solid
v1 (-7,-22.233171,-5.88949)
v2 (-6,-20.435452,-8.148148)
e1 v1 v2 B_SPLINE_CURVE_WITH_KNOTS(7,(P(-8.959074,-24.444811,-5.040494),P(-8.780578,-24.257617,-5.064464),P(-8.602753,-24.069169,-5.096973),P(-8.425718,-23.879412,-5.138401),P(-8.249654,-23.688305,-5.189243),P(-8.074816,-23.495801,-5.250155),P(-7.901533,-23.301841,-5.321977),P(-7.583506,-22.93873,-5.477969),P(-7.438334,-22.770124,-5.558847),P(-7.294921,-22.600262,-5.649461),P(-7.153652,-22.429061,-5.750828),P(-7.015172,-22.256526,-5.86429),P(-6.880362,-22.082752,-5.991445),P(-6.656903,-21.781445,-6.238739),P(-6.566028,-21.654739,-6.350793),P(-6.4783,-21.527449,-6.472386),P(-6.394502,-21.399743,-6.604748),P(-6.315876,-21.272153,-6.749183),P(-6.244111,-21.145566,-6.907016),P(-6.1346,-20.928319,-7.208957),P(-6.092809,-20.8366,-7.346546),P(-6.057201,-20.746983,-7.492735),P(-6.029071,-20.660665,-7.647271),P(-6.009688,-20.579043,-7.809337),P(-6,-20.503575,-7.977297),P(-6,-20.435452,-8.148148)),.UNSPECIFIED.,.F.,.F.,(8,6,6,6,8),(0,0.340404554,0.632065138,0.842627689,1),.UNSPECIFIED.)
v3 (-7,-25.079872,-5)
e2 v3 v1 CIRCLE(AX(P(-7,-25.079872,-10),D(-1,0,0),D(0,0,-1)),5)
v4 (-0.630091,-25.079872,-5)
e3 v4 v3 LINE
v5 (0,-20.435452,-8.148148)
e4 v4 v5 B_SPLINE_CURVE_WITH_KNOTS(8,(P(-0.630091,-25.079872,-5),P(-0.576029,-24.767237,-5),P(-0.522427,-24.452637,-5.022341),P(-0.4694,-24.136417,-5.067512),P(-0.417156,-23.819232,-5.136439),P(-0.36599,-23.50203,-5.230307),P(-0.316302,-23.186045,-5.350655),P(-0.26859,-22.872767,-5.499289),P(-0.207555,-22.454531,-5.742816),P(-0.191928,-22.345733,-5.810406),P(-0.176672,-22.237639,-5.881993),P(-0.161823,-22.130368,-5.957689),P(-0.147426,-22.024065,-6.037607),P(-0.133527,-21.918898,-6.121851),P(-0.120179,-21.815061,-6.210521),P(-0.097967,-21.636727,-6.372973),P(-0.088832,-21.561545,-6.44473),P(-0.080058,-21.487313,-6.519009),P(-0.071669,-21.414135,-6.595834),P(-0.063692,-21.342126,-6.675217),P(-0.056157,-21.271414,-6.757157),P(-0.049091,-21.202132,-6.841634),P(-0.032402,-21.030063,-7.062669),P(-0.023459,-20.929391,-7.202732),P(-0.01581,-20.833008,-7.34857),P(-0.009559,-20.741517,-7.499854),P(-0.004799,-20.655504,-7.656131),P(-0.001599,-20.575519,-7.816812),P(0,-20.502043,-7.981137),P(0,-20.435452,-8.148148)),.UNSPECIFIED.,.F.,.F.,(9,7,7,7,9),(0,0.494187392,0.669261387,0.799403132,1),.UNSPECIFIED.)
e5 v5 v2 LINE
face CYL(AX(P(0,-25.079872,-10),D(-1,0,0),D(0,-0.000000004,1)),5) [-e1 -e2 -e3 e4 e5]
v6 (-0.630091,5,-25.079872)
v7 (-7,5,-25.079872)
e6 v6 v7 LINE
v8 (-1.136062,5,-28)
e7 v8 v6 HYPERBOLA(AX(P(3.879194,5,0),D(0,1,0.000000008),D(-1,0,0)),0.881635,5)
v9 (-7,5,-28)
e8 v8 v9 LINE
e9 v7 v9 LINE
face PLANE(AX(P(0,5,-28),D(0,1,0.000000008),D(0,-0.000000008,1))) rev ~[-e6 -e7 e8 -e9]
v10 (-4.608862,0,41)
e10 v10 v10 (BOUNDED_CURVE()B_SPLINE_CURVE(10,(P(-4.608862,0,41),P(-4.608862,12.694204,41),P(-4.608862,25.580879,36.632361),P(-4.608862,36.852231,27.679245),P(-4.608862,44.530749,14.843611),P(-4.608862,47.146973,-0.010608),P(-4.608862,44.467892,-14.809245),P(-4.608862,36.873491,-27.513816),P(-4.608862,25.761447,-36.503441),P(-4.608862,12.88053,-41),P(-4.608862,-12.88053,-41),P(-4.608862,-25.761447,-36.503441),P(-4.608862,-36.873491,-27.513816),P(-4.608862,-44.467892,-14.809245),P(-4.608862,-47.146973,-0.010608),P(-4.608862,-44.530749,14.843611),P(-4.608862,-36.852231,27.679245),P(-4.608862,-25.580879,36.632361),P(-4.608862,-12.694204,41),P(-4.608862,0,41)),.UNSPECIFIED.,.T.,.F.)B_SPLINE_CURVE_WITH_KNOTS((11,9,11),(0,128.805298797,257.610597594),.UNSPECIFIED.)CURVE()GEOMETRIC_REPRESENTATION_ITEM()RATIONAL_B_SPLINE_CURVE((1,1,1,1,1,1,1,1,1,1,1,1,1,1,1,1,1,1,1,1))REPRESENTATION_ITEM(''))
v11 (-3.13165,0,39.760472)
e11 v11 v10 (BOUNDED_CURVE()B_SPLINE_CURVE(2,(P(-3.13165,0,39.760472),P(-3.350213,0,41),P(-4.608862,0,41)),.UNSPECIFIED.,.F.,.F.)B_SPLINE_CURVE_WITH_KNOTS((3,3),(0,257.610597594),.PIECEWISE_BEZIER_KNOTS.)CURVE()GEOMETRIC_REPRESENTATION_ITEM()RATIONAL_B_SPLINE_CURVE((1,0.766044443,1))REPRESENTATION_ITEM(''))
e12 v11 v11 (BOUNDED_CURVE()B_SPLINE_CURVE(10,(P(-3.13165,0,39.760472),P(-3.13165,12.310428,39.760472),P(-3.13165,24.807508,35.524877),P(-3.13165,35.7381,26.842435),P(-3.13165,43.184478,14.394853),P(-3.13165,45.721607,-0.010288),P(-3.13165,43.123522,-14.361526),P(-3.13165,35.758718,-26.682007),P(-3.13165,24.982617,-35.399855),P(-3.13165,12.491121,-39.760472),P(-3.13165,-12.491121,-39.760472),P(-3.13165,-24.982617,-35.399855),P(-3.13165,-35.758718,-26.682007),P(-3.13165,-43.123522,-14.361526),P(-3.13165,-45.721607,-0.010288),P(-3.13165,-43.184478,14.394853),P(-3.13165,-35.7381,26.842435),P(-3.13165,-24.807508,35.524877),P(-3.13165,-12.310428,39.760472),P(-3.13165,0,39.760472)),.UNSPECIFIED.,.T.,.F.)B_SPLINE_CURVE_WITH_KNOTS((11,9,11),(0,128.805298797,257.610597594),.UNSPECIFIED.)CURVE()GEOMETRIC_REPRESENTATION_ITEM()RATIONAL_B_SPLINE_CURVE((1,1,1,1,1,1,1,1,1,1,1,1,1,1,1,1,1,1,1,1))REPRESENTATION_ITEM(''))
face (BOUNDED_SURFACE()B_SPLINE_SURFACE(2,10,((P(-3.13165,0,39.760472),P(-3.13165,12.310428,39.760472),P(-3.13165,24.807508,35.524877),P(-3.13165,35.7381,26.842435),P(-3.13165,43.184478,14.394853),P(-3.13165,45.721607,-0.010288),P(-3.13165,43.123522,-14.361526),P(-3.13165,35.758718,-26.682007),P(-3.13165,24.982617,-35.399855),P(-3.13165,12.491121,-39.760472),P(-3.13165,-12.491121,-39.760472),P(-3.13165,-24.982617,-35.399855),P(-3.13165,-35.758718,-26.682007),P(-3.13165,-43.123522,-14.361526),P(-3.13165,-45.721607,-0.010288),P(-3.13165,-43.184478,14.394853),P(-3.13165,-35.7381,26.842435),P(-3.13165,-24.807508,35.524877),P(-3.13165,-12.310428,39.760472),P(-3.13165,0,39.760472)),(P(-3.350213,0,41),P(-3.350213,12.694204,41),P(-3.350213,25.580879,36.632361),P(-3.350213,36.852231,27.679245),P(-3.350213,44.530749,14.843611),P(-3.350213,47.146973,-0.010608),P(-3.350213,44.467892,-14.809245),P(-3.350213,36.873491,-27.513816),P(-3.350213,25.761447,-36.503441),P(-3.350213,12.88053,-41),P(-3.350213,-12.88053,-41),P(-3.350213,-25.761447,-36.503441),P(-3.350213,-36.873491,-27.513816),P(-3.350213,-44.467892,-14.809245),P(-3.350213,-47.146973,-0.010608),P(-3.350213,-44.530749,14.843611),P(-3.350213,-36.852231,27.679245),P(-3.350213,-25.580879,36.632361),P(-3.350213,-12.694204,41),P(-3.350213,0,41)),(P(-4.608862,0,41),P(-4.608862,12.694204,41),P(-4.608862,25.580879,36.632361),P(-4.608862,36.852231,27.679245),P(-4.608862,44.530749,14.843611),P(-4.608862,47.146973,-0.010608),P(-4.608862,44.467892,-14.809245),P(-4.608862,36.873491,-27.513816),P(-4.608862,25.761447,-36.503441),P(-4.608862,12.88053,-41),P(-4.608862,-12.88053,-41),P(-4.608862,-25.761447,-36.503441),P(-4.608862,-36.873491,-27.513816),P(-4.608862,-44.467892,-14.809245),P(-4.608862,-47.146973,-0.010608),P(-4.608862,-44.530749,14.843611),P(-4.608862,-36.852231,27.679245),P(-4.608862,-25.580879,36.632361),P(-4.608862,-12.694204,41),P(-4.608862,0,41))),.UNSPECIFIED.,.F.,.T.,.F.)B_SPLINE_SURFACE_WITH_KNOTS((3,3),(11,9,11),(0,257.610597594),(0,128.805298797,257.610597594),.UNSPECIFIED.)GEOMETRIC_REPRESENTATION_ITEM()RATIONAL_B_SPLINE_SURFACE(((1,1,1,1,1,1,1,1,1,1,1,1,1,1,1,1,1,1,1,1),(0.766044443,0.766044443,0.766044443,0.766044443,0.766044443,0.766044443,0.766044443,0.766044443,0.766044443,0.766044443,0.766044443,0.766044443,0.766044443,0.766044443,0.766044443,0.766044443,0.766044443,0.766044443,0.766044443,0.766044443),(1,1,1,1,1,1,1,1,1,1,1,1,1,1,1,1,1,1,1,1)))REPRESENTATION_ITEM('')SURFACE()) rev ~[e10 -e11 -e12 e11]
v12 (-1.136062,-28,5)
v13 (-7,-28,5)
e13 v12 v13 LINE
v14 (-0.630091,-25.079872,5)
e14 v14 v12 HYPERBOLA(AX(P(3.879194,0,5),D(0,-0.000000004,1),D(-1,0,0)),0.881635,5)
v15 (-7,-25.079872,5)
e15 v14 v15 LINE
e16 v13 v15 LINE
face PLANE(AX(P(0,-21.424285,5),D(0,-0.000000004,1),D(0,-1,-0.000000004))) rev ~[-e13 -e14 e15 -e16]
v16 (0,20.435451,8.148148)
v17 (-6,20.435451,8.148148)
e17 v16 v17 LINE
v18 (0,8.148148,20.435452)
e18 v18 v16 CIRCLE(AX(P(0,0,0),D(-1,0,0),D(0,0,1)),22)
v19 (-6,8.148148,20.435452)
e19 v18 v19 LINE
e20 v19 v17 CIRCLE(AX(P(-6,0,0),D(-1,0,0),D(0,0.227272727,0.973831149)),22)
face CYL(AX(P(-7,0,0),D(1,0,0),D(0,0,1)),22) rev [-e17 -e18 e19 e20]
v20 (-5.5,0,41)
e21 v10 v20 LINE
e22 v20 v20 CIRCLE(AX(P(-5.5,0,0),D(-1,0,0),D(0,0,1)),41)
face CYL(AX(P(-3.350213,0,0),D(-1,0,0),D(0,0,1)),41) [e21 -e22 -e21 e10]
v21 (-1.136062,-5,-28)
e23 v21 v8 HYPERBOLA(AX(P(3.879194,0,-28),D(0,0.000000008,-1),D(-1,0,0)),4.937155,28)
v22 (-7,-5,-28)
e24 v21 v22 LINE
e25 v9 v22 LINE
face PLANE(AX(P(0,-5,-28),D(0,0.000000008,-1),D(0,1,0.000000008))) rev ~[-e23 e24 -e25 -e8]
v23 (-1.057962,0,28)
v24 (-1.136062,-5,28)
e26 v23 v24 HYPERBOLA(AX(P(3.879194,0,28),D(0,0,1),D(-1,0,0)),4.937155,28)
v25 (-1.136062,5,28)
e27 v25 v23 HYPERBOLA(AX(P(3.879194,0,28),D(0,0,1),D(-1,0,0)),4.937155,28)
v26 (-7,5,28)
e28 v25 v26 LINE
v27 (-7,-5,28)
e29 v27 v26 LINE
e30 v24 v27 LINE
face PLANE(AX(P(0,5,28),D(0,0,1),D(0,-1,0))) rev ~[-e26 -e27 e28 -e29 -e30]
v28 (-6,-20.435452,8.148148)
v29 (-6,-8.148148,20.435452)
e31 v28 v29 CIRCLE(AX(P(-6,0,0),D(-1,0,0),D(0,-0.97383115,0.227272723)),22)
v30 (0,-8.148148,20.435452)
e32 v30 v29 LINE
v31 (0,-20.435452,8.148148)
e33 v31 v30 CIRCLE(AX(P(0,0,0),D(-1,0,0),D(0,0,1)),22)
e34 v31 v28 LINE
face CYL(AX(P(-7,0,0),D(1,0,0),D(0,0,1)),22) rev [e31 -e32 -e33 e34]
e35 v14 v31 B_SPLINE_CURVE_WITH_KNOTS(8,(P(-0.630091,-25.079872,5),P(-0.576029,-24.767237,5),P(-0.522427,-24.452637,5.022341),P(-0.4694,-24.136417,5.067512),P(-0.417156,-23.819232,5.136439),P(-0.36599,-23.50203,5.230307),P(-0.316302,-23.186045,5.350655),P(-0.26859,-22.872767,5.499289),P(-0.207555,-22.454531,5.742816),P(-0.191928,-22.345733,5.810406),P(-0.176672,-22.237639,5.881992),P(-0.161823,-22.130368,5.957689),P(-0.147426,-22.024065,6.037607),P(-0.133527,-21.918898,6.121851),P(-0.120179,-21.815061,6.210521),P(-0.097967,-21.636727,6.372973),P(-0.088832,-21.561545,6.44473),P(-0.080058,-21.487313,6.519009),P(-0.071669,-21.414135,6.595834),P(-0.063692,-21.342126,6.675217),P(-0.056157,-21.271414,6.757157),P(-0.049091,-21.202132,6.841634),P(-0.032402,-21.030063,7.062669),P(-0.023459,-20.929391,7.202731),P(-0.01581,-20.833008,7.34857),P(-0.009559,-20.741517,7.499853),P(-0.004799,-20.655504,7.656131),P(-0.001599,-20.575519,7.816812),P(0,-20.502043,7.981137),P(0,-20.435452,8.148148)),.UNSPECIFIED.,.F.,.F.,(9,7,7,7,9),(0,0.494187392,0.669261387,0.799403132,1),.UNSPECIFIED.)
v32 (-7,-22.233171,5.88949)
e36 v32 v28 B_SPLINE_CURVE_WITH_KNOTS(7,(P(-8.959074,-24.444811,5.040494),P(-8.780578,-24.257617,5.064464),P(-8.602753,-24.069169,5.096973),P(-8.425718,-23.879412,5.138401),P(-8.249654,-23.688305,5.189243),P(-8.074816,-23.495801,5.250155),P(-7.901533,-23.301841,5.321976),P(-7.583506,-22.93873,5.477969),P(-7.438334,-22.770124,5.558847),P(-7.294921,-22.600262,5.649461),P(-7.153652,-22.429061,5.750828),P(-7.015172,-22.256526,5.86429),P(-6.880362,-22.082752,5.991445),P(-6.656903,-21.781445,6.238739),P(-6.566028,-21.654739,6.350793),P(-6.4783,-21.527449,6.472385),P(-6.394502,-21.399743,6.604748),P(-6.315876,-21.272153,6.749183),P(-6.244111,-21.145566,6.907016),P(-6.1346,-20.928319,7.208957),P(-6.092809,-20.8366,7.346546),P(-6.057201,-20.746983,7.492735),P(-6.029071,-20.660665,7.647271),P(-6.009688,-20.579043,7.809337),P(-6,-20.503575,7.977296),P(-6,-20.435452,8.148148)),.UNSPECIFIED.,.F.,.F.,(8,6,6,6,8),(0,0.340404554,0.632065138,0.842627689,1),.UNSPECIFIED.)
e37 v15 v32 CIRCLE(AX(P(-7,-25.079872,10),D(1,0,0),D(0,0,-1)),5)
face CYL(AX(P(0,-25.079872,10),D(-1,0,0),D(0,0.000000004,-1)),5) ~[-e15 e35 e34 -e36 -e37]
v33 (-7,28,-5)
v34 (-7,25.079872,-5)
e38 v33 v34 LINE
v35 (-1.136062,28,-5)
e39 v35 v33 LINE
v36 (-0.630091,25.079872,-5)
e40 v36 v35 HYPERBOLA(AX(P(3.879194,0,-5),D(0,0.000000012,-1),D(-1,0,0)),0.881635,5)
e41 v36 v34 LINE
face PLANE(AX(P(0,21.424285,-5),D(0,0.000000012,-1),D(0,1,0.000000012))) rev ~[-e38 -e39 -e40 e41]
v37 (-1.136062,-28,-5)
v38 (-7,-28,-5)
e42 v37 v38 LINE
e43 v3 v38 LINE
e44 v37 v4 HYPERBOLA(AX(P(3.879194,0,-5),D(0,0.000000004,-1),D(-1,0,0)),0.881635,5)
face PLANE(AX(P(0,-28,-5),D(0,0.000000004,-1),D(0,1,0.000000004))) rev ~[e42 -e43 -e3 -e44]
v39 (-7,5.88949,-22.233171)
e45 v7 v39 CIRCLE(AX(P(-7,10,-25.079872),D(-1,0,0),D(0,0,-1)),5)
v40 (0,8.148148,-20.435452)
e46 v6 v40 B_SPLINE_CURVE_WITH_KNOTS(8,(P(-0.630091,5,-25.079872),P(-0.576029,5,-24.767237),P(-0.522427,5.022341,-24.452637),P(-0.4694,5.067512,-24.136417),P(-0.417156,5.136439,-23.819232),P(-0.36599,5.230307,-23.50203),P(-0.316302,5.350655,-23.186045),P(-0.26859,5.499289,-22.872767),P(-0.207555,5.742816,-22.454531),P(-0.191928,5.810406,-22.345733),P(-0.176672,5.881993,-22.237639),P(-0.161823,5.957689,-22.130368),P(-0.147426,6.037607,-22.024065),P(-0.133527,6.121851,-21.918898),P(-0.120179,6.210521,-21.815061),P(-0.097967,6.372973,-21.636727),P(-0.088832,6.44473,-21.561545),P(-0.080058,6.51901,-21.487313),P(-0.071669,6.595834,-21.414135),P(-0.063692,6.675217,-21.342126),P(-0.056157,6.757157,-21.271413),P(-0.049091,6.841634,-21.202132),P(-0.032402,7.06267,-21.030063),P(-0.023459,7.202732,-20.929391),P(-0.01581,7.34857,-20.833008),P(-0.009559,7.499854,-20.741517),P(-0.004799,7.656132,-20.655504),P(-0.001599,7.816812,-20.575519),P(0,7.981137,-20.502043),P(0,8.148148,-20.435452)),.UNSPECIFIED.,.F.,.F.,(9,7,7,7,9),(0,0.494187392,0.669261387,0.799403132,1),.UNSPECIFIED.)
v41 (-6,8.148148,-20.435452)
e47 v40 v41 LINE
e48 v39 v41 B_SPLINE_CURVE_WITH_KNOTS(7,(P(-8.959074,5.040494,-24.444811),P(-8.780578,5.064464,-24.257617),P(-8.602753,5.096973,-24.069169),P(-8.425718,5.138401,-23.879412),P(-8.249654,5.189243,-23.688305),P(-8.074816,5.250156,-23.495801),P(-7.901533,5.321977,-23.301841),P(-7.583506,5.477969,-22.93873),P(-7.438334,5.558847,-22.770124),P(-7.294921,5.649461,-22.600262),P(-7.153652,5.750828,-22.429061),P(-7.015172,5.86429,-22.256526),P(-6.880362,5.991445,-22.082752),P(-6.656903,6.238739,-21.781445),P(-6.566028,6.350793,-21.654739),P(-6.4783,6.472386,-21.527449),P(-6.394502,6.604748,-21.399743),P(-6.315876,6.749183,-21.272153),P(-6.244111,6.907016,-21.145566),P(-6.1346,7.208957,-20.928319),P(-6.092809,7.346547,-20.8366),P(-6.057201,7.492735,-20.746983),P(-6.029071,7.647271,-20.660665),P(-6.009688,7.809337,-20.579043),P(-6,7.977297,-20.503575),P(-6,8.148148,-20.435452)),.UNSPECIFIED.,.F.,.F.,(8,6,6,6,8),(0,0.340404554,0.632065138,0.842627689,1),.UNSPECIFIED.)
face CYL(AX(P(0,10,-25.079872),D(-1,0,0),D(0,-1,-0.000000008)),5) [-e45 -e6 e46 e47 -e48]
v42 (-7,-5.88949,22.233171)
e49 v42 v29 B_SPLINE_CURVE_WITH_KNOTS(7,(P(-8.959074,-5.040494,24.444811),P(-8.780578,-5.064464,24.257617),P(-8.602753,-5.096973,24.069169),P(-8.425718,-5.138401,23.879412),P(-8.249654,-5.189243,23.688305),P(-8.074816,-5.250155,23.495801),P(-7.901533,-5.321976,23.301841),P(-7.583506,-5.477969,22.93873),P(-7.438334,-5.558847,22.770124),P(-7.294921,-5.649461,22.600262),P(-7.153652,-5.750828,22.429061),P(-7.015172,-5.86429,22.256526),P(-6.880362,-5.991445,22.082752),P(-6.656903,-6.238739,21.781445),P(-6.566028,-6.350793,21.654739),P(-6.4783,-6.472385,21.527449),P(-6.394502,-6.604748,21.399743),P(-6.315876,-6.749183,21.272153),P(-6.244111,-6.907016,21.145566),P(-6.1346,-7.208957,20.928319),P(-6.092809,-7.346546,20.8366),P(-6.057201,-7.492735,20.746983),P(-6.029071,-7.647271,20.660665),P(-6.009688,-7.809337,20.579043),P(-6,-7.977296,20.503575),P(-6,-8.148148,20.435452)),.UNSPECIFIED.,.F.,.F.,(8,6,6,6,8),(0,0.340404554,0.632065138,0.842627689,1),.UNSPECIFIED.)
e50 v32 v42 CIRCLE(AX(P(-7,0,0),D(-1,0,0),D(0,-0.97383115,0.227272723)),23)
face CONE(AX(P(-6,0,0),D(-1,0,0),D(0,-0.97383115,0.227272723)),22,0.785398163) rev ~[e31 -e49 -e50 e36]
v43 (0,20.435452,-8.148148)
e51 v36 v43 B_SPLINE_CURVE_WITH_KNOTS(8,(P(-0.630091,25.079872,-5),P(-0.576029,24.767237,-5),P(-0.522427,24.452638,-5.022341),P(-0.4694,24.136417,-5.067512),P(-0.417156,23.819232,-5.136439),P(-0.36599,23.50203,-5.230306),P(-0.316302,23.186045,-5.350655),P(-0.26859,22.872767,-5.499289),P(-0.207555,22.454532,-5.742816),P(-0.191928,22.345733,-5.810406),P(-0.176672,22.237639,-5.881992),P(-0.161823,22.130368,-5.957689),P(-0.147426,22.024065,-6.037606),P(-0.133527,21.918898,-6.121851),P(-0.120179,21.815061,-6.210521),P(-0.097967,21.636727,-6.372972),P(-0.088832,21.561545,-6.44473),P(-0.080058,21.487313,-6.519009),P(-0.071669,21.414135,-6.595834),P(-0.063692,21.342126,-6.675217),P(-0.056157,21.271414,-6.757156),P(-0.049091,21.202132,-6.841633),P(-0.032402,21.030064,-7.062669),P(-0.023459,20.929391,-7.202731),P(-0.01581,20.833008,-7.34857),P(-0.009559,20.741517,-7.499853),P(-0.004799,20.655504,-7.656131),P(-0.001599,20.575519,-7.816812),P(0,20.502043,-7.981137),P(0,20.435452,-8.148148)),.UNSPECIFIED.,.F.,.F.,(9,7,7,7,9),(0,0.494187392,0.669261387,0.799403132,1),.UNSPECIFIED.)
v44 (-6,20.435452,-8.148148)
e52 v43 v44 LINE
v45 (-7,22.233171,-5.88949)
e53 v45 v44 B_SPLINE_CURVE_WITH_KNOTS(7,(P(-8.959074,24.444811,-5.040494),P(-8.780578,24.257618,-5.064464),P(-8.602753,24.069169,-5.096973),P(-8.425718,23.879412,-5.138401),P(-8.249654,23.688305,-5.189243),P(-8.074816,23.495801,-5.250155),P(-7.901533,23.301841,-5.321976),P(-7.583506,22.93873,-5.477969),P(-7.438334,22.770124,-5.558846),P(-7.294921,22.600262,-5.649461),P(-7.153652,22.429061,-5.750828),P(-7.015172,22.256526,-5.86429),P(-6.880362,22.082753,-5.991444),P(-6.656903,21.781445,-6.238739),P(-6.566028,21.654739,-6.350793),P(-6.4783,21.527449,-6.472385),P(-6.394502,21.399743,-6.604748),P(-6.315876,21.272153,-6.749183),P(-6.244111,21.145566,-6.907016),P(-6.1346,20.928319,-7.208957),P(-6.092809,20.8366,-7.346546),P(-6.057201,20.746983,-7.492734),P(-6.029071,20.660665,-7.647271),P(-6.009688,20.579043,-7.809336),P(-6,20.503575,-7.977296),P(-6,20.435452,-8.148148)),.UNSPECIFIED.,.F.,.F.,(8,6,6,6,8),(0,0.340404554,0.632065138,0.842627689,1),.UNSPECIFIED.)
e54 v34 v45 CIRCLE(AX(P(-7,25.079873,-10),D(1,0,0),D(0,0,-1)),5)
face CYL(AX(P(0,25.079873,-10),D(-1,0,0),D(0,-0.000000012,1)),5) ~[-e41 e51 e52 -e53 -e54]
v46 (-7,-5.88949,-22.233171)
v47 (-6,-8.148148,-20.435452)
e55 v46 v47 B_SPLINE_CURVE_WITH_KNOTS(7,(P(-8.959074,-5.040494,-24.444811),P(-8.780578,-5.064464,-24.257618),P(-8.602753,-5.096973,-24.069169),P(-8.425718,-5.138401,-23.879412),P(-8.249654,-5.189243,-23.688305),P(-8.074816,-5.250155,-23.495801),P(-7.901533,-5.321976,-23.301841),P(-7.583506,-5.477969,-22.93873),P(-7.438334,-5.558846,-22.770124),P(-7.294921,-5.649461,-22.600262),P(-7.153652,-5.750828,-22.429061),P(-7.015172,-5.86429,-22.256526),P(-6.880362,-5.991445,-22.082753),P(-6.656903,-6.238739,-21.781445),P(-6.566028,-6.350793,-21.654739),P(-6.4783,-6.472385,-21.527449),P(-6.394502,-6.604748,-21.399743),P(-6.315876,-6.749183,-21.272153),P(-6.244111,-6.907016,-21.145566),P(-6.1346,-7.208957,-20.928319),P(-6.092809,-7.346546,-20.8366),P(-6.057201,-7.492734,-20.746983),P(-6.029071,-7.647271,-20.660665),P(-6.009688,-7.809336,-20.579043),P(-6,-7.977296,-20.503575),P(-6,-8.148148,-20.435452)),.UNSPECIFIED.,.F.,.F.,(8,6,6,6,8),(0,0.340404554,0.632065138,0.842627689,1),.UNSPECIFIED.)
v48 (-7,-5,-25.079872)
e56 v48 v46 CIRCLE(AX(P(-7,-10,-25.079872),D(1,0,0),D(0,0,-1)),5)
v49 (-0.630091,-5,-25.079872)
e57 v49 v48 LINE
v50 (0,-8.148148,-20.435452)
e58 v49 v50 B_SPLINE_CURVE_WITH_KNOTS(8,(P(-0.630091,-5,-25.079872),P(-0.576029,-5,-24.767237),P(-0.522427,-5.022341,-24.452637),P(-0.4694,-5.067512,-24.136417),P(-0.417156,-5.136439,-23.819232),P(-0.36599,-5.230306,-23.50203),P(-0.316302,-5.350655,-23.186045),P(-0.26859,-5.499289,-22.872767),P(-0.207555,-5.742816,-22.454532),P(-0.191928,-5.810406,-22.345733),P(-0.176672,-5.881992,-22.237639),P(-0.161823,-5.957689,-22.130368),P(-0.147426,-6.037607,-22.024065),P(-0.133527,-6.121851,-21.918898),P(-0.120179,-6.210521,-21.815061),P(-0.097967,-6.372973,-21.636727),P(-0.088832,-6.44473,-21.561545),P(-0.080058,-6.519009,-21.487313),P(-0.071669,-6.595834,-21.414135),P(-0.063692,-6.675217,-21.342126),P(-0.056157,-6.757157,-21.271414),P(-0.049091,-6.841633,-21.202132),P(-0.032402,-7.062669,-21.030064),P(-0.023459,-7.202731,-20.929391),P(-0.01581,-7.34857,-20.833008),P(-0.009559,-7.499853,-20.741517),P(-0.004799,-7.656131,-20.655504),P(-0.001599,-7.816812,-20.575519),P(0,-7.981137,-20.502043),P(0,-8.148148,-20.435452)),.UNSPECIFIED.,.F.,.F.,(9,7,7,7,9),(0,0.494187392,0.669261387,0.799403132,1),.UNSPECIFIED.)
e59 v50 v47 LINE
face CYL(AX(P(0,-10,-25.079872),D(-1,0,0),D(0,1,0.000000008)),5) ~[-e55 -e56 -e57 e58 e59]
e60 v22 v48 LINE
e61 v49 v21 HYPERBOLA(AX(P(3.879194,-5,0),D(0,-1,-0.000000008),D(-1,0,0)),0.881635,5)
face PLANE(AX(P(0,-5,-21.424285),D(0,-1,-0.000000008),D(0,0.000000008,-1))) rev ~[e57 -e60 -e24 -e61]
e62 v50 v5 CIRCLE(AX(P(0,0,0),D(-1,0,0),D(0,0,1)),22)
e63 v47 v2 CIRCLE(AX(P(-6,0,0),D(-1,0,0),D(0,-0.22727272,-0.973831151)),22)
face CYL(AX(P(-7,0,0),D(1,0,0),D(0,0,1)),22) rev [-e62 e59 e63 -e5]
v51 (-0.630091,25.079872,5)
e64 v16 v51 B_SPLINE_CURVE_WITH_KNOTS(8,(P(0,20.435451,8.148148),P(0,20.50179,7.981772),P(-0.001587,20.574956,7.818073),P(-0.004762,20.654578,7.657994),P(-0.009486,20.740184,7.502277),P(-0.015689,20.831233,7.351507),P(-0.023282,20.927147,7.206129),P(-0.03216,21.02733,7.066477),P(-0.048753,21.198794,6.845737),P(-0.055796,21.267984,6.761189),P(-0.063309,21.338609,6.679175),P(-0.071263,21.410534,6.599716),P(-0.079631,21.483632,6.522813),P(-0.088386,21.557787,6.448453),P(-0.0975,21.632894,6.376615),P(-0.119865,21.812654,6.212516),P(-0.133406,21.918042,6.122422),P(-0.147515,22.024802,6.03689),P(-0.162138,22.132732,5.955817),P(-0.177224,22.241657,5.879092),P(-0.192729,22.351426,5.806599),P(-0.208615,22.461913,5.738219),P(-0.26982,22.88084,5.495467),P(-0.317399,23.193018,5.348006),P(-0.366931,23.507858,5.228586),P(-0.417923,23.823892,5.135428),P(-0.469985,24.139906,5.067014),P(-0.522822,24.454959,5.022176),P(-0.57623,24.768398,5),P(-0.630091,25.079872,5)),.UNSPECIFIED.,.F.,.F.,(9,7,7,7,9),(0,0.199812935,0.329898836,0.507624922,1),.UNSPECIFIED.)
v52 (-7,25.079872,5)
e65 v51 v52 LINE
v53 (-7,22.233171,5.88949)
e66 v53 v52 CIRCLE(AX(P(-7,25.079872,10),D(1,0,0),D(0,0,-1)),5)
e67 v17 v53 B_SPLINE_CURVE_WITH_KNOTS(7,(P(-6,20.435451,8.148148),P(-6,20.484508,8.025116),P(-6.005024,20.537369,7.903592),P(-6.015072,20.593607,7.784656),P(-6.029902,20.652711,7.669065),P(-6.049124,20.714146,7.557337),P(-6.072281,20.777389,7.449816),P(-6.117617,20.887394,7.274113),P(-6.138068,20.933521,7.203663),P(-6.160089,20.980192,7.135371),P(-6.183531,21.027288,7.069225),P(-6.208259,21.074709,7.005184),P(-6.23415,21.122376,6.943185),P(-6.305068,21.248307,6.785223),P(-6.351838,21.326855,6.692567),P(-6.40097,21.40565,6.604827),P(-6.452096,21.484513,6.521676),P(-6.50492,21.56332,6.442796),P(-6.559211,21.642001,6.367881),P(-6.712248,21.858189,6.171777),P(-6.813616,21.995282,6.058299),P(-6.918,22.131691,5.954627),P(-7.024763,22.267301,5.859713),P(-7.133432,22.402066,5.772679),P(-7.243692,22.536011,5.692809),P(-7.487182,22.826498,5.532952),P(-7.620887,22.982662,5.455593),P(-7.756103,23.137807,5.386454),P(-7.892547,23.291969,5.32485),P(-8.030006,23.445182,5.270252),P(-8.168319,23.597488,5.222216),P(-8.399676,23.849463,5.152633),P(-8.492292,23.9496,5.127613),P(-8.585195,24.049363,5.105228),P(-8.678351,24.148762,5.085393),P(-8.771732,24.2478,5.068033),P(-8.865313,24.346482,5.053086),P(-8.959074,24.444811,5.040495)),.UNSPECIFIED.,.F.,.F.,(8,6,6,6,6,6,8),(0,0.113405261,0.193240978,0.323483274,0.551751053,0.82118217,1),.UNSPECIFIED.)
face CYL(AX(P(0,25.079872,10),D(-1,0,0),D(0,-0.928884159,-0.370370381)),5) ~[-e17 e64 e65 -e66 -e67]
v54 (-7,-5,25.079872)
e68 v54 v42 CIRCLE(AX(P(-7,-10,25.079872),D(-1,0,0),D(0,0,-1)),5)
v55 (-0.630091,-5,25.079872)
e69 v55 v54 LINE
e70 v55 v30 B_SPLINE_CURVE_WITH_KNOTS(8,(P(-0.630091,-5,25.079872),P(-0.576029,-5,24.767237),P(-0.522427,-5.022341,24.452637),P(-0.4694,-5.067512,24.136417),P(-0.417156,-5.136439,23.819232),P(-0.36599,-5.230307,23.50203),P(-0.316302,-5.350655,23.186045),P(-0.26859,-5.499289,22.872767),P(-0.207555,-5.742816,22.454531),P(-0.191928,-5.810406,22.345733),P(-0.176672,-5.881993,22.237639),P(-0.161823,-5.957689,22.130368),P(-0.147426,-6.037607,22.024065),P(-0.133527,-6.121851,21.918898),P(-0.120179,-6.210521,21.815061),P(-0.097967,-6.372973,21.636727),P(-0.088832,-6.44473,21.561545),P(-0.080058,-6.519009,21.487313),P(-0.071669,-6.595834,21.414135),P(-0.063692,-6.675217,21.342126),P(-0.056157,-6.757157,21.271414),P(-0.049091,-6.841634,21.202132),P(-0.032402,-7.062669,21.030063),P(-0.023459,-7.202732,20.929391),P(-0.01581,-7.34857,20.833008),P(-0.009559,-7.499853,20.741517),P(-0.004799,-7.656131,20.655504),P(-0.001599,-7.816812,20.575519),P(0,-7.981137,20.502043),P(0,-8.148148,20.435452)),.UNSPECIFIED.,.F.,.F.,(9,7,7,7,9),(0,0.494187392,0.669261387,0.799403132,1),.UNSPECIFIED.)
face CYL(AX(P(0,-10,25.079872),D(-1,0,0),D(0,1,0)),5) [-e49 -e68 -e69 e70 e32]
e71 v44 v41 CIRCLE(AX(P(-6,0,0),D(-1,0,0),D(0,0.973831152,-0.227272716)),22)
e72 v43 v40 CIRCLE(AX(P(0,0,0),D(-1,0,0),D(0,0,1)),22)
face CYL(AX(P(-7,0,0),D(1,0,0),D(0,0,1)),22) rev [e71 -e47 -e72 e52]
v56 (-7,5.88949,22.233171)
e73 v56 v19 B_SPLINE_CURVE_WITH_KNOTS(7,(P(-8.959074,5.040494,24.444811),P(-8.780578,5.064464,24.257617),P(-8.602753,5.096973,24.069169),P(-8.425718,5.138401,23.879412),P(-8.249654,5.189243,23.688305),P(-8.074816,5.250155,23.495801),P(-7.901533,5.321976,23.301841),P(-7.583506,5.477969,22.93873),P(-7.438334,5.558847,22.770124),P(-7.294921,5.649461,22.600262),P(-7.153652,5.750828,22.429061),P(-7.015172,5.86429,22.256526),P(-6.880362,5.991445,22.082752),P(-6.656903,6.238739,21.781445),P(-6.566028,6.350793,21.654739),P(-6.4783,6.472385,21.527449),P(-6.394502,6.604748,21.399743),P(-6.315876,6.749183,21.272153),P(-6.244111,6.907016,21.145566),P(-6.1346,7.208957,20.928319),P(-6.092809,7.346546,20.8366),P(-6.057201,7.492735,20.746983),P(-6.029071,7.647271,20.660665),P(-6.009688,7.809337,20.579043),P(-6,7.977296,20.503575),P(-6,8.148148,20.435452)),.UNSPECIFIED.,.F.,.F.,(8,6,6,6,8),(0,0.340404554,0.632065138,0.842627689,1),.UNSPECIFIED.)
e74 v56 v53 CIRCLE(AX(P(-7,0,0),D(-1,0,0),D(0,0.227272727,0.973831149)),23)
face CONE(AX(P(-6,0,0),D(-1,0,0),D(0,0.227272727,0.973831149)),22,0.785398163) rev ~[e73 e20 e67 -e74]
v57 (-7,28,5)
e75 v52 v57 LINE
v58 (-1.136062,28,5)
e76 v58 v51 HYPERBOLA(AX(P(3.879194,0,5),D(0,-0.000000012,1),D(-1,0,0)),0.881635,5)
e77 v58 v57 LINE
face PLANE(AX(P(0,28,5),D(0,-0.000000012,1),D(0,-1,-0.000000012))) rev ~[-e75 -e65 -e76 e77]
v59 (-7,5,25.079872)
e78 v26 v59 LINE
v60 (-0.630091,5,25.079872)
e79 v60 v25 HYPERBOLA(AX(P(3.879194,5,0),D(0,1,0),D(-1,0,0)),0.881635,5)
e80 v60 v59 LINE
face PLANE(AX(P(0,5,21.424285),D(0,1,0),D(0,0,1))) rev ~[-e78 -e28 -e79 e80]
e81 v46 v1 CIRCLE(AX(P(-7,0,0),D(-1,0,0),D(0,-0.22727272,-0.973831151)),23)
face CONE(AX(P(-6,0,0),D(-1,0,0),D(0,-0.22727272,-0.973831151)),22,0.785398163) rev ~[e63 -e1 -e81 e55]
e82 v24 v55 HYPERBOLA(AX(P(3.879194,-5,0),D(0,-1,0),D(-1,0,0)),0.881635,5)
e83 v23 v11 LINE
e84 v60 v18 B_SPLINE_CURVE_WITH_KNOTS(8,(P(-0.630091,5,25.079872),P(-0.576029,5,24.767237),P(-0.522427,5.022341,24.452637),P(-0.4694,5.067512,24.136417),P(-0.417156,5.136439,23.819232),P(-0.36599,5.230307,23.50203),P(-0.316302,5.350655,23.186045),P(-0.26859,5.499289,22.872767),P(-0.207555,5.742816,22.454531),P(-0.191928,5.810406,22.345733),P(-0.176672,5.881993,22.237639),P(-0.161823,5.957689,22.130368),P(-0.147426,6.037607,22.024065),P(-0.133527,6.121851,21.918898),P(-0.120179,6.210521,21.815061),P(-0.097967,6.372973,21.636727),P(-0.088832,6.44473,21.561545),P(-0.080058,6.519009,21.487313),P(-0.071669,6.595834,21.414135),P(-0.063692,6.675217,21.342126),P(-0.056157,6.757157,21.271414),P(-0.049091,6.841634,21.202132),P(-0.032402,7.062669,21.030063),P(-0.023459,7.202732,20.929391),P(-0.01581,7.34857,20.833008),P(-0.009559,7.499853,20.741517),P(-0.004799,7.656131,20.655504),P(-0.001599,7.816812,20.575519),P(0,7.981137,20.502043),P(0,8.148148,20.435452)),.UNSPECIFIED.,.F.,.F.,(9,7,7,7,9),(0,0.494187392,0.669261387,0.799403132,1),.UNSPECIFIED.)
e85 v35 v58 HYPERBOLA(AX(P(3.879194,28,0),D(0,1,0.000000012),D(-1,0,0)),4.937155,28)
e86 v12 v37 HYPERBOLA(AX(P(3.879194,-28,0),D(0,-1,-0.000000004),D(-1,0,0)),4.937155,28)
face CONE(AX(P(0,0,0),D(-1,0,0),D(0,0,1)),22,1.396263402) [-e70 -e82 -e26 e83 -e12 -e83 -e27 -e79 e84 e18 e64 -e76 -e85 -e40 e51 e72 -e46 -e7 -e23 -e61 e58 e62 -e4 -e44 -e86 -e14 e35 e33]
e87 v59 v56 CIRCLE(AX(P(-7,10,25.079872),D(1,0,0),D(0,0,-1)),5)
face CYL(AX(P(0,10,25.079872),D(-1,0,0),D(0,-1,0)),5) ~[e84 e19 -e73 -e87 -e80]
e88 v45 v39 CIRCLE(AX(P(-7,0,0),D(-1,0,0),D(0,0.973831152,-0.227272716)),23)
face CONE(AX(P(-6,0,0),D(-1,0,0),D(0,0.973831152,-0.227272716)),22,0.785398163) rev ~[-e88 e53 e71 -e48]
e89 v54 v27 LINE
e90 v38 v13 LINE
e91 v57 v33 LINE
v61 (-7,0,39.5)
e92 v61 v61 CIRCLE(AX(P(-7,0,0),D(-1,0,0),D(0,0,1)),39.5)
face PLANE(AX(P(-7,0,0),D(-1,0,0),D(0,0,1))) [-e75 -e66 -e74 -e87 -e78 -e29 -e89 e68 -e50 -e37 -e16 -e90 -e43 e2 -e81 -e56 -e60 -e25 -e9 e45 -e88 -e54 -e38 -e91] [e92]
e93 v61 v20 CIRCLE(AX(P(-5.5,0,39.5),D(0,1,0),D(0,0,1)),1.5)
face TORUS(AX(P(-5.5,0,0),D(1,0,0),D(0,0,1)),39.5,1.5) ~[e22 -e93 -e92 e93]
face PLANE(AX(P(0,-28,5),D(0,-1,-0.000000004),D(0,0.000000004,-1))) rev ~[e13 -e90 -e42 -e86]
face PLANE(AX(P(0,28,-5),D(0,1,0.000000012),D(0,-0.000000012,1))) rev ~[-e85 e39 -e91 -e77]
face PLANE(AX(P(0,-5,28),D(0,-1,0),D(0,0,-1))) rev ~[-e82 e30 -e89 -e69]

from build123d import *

# Parameters (mm, degrees)
F3_DEPTH = 25
F4_SIZE  = 1
F5_R     = 5
F6_R     = 1.5


with BuildPart() as f1:
    # F0 (on Front) → F1 (revolve)
    with BuildSketch(Plane.XZ):
        Polygon((0, 22), (-3.3502126335, 41), (-7, 41), (-7, 22), align=None)
    revolve(axis=Axis((-11.3754170015, 0, 0), (-1, 0, 0)))

    # F2 (on Right) → F3 (cut)
    with BuildSketch(Plane.YZ):
        with BuildLine():
            Line((5, 21.4242852856), (5, 28))
            Line((5, 28), (0, 28))
            Line((0, 28), (-5, 28))
            Line((-5, 28), (-5, 21.4242852856))
            ThreePointArc((-5, 21.4242852856), (0, 22), (5, 21.4242852856))
        make_face()
        with BuildLine():
            Line((-27.9999999801, -5.0000001113), (-21.4242852658, -5.0000000852))
            ThreePointArc((-21.4242852658, -5.0000000852), (-22, -8.74e-08), (-21.4242853055, 4.9999999148))
            Line((-21.4242853055, 4.9999999148), (-28.0000000199, 4.9999998887))
            Line((-28.0000000199, 4.9999998887), (-28, -1.113e-07))
            Line((-28, -1.113e-07), (-27.9999999801, -5.0000001113))
        make_face()
        with BuildLine():
            Line((5.0000002226, -27.9999999603), (5.0000001703, -21.4242852459))
            ThreePointArc((5.0000001703, -21.4242852459), (1.749e-07, -22), (-4.9999998297, -21.4242853254))
            Line((-4.9999998297, -21.4242853254), (-4.9999997774, -28.0000000397))
            Line((-4.9999997774, -28.0000000397), (2.226e-07, -28))
            Line((2.226e-07, -28), (5.0000002226, -27.9999999603))
        make_face()
        with BuildLine():
            Line((27.9999999404, 5.0000003339), (21.424285226, 5.0000002555))
            ThreePointArc((21.424285226, 5.0000002555), (22, 2.623e-07), (21.4242853453, -4.9999997445))
            Line((21.4242853453, -4.9999997445), (28.0000000596, -4.9999996661))
            Line((28.0000000596, -4.9999996661), (28, 3.339e-07))
            Line((28, 3.339e-07), (27.9999999404, 5.0000003339))
        make_face()
    extrude(amount=-F3_DEPTH, mode=Mode.SUBTRACT)

    # F4
    f4_edges = [f1.edges().sort_by_distance(p)[0] for p in [
        (-7, 15.556349, 15.556349),
        (-7, -15.556349, 15.556349),
        (-7, -15.556349, -15.556349),
        (-7, 15.556349, -15.556349),
    ]]
    chamfer(f4_edges, length=F4_SIZE)

    # F5
    f5_edges = [f1.edges().sort_by_distance(p)[0] for p in [
        (-3, -5, -21.424285),
        (-3, 5, -21.424285),
        (-3, 21.424285, -5),
        (-3, 21.424285, 5),
        (-3, 5, 21.424285),
        (-3, -5, 21.424285),
        (-3, -21.424285, 5),
        (-3, -21.424285, -5),
    ]]
    fillet(f5_edges, radius=F5_R)

    # F6
    f6_edges = [f1.edges().sort_by_distance(p)[0] for p in [
        (-3.350213, 0, -41),
        (-7, 0, -41),
    ]]
    fillet(f6_edges, radius=F6_R)


solid = f1.part
